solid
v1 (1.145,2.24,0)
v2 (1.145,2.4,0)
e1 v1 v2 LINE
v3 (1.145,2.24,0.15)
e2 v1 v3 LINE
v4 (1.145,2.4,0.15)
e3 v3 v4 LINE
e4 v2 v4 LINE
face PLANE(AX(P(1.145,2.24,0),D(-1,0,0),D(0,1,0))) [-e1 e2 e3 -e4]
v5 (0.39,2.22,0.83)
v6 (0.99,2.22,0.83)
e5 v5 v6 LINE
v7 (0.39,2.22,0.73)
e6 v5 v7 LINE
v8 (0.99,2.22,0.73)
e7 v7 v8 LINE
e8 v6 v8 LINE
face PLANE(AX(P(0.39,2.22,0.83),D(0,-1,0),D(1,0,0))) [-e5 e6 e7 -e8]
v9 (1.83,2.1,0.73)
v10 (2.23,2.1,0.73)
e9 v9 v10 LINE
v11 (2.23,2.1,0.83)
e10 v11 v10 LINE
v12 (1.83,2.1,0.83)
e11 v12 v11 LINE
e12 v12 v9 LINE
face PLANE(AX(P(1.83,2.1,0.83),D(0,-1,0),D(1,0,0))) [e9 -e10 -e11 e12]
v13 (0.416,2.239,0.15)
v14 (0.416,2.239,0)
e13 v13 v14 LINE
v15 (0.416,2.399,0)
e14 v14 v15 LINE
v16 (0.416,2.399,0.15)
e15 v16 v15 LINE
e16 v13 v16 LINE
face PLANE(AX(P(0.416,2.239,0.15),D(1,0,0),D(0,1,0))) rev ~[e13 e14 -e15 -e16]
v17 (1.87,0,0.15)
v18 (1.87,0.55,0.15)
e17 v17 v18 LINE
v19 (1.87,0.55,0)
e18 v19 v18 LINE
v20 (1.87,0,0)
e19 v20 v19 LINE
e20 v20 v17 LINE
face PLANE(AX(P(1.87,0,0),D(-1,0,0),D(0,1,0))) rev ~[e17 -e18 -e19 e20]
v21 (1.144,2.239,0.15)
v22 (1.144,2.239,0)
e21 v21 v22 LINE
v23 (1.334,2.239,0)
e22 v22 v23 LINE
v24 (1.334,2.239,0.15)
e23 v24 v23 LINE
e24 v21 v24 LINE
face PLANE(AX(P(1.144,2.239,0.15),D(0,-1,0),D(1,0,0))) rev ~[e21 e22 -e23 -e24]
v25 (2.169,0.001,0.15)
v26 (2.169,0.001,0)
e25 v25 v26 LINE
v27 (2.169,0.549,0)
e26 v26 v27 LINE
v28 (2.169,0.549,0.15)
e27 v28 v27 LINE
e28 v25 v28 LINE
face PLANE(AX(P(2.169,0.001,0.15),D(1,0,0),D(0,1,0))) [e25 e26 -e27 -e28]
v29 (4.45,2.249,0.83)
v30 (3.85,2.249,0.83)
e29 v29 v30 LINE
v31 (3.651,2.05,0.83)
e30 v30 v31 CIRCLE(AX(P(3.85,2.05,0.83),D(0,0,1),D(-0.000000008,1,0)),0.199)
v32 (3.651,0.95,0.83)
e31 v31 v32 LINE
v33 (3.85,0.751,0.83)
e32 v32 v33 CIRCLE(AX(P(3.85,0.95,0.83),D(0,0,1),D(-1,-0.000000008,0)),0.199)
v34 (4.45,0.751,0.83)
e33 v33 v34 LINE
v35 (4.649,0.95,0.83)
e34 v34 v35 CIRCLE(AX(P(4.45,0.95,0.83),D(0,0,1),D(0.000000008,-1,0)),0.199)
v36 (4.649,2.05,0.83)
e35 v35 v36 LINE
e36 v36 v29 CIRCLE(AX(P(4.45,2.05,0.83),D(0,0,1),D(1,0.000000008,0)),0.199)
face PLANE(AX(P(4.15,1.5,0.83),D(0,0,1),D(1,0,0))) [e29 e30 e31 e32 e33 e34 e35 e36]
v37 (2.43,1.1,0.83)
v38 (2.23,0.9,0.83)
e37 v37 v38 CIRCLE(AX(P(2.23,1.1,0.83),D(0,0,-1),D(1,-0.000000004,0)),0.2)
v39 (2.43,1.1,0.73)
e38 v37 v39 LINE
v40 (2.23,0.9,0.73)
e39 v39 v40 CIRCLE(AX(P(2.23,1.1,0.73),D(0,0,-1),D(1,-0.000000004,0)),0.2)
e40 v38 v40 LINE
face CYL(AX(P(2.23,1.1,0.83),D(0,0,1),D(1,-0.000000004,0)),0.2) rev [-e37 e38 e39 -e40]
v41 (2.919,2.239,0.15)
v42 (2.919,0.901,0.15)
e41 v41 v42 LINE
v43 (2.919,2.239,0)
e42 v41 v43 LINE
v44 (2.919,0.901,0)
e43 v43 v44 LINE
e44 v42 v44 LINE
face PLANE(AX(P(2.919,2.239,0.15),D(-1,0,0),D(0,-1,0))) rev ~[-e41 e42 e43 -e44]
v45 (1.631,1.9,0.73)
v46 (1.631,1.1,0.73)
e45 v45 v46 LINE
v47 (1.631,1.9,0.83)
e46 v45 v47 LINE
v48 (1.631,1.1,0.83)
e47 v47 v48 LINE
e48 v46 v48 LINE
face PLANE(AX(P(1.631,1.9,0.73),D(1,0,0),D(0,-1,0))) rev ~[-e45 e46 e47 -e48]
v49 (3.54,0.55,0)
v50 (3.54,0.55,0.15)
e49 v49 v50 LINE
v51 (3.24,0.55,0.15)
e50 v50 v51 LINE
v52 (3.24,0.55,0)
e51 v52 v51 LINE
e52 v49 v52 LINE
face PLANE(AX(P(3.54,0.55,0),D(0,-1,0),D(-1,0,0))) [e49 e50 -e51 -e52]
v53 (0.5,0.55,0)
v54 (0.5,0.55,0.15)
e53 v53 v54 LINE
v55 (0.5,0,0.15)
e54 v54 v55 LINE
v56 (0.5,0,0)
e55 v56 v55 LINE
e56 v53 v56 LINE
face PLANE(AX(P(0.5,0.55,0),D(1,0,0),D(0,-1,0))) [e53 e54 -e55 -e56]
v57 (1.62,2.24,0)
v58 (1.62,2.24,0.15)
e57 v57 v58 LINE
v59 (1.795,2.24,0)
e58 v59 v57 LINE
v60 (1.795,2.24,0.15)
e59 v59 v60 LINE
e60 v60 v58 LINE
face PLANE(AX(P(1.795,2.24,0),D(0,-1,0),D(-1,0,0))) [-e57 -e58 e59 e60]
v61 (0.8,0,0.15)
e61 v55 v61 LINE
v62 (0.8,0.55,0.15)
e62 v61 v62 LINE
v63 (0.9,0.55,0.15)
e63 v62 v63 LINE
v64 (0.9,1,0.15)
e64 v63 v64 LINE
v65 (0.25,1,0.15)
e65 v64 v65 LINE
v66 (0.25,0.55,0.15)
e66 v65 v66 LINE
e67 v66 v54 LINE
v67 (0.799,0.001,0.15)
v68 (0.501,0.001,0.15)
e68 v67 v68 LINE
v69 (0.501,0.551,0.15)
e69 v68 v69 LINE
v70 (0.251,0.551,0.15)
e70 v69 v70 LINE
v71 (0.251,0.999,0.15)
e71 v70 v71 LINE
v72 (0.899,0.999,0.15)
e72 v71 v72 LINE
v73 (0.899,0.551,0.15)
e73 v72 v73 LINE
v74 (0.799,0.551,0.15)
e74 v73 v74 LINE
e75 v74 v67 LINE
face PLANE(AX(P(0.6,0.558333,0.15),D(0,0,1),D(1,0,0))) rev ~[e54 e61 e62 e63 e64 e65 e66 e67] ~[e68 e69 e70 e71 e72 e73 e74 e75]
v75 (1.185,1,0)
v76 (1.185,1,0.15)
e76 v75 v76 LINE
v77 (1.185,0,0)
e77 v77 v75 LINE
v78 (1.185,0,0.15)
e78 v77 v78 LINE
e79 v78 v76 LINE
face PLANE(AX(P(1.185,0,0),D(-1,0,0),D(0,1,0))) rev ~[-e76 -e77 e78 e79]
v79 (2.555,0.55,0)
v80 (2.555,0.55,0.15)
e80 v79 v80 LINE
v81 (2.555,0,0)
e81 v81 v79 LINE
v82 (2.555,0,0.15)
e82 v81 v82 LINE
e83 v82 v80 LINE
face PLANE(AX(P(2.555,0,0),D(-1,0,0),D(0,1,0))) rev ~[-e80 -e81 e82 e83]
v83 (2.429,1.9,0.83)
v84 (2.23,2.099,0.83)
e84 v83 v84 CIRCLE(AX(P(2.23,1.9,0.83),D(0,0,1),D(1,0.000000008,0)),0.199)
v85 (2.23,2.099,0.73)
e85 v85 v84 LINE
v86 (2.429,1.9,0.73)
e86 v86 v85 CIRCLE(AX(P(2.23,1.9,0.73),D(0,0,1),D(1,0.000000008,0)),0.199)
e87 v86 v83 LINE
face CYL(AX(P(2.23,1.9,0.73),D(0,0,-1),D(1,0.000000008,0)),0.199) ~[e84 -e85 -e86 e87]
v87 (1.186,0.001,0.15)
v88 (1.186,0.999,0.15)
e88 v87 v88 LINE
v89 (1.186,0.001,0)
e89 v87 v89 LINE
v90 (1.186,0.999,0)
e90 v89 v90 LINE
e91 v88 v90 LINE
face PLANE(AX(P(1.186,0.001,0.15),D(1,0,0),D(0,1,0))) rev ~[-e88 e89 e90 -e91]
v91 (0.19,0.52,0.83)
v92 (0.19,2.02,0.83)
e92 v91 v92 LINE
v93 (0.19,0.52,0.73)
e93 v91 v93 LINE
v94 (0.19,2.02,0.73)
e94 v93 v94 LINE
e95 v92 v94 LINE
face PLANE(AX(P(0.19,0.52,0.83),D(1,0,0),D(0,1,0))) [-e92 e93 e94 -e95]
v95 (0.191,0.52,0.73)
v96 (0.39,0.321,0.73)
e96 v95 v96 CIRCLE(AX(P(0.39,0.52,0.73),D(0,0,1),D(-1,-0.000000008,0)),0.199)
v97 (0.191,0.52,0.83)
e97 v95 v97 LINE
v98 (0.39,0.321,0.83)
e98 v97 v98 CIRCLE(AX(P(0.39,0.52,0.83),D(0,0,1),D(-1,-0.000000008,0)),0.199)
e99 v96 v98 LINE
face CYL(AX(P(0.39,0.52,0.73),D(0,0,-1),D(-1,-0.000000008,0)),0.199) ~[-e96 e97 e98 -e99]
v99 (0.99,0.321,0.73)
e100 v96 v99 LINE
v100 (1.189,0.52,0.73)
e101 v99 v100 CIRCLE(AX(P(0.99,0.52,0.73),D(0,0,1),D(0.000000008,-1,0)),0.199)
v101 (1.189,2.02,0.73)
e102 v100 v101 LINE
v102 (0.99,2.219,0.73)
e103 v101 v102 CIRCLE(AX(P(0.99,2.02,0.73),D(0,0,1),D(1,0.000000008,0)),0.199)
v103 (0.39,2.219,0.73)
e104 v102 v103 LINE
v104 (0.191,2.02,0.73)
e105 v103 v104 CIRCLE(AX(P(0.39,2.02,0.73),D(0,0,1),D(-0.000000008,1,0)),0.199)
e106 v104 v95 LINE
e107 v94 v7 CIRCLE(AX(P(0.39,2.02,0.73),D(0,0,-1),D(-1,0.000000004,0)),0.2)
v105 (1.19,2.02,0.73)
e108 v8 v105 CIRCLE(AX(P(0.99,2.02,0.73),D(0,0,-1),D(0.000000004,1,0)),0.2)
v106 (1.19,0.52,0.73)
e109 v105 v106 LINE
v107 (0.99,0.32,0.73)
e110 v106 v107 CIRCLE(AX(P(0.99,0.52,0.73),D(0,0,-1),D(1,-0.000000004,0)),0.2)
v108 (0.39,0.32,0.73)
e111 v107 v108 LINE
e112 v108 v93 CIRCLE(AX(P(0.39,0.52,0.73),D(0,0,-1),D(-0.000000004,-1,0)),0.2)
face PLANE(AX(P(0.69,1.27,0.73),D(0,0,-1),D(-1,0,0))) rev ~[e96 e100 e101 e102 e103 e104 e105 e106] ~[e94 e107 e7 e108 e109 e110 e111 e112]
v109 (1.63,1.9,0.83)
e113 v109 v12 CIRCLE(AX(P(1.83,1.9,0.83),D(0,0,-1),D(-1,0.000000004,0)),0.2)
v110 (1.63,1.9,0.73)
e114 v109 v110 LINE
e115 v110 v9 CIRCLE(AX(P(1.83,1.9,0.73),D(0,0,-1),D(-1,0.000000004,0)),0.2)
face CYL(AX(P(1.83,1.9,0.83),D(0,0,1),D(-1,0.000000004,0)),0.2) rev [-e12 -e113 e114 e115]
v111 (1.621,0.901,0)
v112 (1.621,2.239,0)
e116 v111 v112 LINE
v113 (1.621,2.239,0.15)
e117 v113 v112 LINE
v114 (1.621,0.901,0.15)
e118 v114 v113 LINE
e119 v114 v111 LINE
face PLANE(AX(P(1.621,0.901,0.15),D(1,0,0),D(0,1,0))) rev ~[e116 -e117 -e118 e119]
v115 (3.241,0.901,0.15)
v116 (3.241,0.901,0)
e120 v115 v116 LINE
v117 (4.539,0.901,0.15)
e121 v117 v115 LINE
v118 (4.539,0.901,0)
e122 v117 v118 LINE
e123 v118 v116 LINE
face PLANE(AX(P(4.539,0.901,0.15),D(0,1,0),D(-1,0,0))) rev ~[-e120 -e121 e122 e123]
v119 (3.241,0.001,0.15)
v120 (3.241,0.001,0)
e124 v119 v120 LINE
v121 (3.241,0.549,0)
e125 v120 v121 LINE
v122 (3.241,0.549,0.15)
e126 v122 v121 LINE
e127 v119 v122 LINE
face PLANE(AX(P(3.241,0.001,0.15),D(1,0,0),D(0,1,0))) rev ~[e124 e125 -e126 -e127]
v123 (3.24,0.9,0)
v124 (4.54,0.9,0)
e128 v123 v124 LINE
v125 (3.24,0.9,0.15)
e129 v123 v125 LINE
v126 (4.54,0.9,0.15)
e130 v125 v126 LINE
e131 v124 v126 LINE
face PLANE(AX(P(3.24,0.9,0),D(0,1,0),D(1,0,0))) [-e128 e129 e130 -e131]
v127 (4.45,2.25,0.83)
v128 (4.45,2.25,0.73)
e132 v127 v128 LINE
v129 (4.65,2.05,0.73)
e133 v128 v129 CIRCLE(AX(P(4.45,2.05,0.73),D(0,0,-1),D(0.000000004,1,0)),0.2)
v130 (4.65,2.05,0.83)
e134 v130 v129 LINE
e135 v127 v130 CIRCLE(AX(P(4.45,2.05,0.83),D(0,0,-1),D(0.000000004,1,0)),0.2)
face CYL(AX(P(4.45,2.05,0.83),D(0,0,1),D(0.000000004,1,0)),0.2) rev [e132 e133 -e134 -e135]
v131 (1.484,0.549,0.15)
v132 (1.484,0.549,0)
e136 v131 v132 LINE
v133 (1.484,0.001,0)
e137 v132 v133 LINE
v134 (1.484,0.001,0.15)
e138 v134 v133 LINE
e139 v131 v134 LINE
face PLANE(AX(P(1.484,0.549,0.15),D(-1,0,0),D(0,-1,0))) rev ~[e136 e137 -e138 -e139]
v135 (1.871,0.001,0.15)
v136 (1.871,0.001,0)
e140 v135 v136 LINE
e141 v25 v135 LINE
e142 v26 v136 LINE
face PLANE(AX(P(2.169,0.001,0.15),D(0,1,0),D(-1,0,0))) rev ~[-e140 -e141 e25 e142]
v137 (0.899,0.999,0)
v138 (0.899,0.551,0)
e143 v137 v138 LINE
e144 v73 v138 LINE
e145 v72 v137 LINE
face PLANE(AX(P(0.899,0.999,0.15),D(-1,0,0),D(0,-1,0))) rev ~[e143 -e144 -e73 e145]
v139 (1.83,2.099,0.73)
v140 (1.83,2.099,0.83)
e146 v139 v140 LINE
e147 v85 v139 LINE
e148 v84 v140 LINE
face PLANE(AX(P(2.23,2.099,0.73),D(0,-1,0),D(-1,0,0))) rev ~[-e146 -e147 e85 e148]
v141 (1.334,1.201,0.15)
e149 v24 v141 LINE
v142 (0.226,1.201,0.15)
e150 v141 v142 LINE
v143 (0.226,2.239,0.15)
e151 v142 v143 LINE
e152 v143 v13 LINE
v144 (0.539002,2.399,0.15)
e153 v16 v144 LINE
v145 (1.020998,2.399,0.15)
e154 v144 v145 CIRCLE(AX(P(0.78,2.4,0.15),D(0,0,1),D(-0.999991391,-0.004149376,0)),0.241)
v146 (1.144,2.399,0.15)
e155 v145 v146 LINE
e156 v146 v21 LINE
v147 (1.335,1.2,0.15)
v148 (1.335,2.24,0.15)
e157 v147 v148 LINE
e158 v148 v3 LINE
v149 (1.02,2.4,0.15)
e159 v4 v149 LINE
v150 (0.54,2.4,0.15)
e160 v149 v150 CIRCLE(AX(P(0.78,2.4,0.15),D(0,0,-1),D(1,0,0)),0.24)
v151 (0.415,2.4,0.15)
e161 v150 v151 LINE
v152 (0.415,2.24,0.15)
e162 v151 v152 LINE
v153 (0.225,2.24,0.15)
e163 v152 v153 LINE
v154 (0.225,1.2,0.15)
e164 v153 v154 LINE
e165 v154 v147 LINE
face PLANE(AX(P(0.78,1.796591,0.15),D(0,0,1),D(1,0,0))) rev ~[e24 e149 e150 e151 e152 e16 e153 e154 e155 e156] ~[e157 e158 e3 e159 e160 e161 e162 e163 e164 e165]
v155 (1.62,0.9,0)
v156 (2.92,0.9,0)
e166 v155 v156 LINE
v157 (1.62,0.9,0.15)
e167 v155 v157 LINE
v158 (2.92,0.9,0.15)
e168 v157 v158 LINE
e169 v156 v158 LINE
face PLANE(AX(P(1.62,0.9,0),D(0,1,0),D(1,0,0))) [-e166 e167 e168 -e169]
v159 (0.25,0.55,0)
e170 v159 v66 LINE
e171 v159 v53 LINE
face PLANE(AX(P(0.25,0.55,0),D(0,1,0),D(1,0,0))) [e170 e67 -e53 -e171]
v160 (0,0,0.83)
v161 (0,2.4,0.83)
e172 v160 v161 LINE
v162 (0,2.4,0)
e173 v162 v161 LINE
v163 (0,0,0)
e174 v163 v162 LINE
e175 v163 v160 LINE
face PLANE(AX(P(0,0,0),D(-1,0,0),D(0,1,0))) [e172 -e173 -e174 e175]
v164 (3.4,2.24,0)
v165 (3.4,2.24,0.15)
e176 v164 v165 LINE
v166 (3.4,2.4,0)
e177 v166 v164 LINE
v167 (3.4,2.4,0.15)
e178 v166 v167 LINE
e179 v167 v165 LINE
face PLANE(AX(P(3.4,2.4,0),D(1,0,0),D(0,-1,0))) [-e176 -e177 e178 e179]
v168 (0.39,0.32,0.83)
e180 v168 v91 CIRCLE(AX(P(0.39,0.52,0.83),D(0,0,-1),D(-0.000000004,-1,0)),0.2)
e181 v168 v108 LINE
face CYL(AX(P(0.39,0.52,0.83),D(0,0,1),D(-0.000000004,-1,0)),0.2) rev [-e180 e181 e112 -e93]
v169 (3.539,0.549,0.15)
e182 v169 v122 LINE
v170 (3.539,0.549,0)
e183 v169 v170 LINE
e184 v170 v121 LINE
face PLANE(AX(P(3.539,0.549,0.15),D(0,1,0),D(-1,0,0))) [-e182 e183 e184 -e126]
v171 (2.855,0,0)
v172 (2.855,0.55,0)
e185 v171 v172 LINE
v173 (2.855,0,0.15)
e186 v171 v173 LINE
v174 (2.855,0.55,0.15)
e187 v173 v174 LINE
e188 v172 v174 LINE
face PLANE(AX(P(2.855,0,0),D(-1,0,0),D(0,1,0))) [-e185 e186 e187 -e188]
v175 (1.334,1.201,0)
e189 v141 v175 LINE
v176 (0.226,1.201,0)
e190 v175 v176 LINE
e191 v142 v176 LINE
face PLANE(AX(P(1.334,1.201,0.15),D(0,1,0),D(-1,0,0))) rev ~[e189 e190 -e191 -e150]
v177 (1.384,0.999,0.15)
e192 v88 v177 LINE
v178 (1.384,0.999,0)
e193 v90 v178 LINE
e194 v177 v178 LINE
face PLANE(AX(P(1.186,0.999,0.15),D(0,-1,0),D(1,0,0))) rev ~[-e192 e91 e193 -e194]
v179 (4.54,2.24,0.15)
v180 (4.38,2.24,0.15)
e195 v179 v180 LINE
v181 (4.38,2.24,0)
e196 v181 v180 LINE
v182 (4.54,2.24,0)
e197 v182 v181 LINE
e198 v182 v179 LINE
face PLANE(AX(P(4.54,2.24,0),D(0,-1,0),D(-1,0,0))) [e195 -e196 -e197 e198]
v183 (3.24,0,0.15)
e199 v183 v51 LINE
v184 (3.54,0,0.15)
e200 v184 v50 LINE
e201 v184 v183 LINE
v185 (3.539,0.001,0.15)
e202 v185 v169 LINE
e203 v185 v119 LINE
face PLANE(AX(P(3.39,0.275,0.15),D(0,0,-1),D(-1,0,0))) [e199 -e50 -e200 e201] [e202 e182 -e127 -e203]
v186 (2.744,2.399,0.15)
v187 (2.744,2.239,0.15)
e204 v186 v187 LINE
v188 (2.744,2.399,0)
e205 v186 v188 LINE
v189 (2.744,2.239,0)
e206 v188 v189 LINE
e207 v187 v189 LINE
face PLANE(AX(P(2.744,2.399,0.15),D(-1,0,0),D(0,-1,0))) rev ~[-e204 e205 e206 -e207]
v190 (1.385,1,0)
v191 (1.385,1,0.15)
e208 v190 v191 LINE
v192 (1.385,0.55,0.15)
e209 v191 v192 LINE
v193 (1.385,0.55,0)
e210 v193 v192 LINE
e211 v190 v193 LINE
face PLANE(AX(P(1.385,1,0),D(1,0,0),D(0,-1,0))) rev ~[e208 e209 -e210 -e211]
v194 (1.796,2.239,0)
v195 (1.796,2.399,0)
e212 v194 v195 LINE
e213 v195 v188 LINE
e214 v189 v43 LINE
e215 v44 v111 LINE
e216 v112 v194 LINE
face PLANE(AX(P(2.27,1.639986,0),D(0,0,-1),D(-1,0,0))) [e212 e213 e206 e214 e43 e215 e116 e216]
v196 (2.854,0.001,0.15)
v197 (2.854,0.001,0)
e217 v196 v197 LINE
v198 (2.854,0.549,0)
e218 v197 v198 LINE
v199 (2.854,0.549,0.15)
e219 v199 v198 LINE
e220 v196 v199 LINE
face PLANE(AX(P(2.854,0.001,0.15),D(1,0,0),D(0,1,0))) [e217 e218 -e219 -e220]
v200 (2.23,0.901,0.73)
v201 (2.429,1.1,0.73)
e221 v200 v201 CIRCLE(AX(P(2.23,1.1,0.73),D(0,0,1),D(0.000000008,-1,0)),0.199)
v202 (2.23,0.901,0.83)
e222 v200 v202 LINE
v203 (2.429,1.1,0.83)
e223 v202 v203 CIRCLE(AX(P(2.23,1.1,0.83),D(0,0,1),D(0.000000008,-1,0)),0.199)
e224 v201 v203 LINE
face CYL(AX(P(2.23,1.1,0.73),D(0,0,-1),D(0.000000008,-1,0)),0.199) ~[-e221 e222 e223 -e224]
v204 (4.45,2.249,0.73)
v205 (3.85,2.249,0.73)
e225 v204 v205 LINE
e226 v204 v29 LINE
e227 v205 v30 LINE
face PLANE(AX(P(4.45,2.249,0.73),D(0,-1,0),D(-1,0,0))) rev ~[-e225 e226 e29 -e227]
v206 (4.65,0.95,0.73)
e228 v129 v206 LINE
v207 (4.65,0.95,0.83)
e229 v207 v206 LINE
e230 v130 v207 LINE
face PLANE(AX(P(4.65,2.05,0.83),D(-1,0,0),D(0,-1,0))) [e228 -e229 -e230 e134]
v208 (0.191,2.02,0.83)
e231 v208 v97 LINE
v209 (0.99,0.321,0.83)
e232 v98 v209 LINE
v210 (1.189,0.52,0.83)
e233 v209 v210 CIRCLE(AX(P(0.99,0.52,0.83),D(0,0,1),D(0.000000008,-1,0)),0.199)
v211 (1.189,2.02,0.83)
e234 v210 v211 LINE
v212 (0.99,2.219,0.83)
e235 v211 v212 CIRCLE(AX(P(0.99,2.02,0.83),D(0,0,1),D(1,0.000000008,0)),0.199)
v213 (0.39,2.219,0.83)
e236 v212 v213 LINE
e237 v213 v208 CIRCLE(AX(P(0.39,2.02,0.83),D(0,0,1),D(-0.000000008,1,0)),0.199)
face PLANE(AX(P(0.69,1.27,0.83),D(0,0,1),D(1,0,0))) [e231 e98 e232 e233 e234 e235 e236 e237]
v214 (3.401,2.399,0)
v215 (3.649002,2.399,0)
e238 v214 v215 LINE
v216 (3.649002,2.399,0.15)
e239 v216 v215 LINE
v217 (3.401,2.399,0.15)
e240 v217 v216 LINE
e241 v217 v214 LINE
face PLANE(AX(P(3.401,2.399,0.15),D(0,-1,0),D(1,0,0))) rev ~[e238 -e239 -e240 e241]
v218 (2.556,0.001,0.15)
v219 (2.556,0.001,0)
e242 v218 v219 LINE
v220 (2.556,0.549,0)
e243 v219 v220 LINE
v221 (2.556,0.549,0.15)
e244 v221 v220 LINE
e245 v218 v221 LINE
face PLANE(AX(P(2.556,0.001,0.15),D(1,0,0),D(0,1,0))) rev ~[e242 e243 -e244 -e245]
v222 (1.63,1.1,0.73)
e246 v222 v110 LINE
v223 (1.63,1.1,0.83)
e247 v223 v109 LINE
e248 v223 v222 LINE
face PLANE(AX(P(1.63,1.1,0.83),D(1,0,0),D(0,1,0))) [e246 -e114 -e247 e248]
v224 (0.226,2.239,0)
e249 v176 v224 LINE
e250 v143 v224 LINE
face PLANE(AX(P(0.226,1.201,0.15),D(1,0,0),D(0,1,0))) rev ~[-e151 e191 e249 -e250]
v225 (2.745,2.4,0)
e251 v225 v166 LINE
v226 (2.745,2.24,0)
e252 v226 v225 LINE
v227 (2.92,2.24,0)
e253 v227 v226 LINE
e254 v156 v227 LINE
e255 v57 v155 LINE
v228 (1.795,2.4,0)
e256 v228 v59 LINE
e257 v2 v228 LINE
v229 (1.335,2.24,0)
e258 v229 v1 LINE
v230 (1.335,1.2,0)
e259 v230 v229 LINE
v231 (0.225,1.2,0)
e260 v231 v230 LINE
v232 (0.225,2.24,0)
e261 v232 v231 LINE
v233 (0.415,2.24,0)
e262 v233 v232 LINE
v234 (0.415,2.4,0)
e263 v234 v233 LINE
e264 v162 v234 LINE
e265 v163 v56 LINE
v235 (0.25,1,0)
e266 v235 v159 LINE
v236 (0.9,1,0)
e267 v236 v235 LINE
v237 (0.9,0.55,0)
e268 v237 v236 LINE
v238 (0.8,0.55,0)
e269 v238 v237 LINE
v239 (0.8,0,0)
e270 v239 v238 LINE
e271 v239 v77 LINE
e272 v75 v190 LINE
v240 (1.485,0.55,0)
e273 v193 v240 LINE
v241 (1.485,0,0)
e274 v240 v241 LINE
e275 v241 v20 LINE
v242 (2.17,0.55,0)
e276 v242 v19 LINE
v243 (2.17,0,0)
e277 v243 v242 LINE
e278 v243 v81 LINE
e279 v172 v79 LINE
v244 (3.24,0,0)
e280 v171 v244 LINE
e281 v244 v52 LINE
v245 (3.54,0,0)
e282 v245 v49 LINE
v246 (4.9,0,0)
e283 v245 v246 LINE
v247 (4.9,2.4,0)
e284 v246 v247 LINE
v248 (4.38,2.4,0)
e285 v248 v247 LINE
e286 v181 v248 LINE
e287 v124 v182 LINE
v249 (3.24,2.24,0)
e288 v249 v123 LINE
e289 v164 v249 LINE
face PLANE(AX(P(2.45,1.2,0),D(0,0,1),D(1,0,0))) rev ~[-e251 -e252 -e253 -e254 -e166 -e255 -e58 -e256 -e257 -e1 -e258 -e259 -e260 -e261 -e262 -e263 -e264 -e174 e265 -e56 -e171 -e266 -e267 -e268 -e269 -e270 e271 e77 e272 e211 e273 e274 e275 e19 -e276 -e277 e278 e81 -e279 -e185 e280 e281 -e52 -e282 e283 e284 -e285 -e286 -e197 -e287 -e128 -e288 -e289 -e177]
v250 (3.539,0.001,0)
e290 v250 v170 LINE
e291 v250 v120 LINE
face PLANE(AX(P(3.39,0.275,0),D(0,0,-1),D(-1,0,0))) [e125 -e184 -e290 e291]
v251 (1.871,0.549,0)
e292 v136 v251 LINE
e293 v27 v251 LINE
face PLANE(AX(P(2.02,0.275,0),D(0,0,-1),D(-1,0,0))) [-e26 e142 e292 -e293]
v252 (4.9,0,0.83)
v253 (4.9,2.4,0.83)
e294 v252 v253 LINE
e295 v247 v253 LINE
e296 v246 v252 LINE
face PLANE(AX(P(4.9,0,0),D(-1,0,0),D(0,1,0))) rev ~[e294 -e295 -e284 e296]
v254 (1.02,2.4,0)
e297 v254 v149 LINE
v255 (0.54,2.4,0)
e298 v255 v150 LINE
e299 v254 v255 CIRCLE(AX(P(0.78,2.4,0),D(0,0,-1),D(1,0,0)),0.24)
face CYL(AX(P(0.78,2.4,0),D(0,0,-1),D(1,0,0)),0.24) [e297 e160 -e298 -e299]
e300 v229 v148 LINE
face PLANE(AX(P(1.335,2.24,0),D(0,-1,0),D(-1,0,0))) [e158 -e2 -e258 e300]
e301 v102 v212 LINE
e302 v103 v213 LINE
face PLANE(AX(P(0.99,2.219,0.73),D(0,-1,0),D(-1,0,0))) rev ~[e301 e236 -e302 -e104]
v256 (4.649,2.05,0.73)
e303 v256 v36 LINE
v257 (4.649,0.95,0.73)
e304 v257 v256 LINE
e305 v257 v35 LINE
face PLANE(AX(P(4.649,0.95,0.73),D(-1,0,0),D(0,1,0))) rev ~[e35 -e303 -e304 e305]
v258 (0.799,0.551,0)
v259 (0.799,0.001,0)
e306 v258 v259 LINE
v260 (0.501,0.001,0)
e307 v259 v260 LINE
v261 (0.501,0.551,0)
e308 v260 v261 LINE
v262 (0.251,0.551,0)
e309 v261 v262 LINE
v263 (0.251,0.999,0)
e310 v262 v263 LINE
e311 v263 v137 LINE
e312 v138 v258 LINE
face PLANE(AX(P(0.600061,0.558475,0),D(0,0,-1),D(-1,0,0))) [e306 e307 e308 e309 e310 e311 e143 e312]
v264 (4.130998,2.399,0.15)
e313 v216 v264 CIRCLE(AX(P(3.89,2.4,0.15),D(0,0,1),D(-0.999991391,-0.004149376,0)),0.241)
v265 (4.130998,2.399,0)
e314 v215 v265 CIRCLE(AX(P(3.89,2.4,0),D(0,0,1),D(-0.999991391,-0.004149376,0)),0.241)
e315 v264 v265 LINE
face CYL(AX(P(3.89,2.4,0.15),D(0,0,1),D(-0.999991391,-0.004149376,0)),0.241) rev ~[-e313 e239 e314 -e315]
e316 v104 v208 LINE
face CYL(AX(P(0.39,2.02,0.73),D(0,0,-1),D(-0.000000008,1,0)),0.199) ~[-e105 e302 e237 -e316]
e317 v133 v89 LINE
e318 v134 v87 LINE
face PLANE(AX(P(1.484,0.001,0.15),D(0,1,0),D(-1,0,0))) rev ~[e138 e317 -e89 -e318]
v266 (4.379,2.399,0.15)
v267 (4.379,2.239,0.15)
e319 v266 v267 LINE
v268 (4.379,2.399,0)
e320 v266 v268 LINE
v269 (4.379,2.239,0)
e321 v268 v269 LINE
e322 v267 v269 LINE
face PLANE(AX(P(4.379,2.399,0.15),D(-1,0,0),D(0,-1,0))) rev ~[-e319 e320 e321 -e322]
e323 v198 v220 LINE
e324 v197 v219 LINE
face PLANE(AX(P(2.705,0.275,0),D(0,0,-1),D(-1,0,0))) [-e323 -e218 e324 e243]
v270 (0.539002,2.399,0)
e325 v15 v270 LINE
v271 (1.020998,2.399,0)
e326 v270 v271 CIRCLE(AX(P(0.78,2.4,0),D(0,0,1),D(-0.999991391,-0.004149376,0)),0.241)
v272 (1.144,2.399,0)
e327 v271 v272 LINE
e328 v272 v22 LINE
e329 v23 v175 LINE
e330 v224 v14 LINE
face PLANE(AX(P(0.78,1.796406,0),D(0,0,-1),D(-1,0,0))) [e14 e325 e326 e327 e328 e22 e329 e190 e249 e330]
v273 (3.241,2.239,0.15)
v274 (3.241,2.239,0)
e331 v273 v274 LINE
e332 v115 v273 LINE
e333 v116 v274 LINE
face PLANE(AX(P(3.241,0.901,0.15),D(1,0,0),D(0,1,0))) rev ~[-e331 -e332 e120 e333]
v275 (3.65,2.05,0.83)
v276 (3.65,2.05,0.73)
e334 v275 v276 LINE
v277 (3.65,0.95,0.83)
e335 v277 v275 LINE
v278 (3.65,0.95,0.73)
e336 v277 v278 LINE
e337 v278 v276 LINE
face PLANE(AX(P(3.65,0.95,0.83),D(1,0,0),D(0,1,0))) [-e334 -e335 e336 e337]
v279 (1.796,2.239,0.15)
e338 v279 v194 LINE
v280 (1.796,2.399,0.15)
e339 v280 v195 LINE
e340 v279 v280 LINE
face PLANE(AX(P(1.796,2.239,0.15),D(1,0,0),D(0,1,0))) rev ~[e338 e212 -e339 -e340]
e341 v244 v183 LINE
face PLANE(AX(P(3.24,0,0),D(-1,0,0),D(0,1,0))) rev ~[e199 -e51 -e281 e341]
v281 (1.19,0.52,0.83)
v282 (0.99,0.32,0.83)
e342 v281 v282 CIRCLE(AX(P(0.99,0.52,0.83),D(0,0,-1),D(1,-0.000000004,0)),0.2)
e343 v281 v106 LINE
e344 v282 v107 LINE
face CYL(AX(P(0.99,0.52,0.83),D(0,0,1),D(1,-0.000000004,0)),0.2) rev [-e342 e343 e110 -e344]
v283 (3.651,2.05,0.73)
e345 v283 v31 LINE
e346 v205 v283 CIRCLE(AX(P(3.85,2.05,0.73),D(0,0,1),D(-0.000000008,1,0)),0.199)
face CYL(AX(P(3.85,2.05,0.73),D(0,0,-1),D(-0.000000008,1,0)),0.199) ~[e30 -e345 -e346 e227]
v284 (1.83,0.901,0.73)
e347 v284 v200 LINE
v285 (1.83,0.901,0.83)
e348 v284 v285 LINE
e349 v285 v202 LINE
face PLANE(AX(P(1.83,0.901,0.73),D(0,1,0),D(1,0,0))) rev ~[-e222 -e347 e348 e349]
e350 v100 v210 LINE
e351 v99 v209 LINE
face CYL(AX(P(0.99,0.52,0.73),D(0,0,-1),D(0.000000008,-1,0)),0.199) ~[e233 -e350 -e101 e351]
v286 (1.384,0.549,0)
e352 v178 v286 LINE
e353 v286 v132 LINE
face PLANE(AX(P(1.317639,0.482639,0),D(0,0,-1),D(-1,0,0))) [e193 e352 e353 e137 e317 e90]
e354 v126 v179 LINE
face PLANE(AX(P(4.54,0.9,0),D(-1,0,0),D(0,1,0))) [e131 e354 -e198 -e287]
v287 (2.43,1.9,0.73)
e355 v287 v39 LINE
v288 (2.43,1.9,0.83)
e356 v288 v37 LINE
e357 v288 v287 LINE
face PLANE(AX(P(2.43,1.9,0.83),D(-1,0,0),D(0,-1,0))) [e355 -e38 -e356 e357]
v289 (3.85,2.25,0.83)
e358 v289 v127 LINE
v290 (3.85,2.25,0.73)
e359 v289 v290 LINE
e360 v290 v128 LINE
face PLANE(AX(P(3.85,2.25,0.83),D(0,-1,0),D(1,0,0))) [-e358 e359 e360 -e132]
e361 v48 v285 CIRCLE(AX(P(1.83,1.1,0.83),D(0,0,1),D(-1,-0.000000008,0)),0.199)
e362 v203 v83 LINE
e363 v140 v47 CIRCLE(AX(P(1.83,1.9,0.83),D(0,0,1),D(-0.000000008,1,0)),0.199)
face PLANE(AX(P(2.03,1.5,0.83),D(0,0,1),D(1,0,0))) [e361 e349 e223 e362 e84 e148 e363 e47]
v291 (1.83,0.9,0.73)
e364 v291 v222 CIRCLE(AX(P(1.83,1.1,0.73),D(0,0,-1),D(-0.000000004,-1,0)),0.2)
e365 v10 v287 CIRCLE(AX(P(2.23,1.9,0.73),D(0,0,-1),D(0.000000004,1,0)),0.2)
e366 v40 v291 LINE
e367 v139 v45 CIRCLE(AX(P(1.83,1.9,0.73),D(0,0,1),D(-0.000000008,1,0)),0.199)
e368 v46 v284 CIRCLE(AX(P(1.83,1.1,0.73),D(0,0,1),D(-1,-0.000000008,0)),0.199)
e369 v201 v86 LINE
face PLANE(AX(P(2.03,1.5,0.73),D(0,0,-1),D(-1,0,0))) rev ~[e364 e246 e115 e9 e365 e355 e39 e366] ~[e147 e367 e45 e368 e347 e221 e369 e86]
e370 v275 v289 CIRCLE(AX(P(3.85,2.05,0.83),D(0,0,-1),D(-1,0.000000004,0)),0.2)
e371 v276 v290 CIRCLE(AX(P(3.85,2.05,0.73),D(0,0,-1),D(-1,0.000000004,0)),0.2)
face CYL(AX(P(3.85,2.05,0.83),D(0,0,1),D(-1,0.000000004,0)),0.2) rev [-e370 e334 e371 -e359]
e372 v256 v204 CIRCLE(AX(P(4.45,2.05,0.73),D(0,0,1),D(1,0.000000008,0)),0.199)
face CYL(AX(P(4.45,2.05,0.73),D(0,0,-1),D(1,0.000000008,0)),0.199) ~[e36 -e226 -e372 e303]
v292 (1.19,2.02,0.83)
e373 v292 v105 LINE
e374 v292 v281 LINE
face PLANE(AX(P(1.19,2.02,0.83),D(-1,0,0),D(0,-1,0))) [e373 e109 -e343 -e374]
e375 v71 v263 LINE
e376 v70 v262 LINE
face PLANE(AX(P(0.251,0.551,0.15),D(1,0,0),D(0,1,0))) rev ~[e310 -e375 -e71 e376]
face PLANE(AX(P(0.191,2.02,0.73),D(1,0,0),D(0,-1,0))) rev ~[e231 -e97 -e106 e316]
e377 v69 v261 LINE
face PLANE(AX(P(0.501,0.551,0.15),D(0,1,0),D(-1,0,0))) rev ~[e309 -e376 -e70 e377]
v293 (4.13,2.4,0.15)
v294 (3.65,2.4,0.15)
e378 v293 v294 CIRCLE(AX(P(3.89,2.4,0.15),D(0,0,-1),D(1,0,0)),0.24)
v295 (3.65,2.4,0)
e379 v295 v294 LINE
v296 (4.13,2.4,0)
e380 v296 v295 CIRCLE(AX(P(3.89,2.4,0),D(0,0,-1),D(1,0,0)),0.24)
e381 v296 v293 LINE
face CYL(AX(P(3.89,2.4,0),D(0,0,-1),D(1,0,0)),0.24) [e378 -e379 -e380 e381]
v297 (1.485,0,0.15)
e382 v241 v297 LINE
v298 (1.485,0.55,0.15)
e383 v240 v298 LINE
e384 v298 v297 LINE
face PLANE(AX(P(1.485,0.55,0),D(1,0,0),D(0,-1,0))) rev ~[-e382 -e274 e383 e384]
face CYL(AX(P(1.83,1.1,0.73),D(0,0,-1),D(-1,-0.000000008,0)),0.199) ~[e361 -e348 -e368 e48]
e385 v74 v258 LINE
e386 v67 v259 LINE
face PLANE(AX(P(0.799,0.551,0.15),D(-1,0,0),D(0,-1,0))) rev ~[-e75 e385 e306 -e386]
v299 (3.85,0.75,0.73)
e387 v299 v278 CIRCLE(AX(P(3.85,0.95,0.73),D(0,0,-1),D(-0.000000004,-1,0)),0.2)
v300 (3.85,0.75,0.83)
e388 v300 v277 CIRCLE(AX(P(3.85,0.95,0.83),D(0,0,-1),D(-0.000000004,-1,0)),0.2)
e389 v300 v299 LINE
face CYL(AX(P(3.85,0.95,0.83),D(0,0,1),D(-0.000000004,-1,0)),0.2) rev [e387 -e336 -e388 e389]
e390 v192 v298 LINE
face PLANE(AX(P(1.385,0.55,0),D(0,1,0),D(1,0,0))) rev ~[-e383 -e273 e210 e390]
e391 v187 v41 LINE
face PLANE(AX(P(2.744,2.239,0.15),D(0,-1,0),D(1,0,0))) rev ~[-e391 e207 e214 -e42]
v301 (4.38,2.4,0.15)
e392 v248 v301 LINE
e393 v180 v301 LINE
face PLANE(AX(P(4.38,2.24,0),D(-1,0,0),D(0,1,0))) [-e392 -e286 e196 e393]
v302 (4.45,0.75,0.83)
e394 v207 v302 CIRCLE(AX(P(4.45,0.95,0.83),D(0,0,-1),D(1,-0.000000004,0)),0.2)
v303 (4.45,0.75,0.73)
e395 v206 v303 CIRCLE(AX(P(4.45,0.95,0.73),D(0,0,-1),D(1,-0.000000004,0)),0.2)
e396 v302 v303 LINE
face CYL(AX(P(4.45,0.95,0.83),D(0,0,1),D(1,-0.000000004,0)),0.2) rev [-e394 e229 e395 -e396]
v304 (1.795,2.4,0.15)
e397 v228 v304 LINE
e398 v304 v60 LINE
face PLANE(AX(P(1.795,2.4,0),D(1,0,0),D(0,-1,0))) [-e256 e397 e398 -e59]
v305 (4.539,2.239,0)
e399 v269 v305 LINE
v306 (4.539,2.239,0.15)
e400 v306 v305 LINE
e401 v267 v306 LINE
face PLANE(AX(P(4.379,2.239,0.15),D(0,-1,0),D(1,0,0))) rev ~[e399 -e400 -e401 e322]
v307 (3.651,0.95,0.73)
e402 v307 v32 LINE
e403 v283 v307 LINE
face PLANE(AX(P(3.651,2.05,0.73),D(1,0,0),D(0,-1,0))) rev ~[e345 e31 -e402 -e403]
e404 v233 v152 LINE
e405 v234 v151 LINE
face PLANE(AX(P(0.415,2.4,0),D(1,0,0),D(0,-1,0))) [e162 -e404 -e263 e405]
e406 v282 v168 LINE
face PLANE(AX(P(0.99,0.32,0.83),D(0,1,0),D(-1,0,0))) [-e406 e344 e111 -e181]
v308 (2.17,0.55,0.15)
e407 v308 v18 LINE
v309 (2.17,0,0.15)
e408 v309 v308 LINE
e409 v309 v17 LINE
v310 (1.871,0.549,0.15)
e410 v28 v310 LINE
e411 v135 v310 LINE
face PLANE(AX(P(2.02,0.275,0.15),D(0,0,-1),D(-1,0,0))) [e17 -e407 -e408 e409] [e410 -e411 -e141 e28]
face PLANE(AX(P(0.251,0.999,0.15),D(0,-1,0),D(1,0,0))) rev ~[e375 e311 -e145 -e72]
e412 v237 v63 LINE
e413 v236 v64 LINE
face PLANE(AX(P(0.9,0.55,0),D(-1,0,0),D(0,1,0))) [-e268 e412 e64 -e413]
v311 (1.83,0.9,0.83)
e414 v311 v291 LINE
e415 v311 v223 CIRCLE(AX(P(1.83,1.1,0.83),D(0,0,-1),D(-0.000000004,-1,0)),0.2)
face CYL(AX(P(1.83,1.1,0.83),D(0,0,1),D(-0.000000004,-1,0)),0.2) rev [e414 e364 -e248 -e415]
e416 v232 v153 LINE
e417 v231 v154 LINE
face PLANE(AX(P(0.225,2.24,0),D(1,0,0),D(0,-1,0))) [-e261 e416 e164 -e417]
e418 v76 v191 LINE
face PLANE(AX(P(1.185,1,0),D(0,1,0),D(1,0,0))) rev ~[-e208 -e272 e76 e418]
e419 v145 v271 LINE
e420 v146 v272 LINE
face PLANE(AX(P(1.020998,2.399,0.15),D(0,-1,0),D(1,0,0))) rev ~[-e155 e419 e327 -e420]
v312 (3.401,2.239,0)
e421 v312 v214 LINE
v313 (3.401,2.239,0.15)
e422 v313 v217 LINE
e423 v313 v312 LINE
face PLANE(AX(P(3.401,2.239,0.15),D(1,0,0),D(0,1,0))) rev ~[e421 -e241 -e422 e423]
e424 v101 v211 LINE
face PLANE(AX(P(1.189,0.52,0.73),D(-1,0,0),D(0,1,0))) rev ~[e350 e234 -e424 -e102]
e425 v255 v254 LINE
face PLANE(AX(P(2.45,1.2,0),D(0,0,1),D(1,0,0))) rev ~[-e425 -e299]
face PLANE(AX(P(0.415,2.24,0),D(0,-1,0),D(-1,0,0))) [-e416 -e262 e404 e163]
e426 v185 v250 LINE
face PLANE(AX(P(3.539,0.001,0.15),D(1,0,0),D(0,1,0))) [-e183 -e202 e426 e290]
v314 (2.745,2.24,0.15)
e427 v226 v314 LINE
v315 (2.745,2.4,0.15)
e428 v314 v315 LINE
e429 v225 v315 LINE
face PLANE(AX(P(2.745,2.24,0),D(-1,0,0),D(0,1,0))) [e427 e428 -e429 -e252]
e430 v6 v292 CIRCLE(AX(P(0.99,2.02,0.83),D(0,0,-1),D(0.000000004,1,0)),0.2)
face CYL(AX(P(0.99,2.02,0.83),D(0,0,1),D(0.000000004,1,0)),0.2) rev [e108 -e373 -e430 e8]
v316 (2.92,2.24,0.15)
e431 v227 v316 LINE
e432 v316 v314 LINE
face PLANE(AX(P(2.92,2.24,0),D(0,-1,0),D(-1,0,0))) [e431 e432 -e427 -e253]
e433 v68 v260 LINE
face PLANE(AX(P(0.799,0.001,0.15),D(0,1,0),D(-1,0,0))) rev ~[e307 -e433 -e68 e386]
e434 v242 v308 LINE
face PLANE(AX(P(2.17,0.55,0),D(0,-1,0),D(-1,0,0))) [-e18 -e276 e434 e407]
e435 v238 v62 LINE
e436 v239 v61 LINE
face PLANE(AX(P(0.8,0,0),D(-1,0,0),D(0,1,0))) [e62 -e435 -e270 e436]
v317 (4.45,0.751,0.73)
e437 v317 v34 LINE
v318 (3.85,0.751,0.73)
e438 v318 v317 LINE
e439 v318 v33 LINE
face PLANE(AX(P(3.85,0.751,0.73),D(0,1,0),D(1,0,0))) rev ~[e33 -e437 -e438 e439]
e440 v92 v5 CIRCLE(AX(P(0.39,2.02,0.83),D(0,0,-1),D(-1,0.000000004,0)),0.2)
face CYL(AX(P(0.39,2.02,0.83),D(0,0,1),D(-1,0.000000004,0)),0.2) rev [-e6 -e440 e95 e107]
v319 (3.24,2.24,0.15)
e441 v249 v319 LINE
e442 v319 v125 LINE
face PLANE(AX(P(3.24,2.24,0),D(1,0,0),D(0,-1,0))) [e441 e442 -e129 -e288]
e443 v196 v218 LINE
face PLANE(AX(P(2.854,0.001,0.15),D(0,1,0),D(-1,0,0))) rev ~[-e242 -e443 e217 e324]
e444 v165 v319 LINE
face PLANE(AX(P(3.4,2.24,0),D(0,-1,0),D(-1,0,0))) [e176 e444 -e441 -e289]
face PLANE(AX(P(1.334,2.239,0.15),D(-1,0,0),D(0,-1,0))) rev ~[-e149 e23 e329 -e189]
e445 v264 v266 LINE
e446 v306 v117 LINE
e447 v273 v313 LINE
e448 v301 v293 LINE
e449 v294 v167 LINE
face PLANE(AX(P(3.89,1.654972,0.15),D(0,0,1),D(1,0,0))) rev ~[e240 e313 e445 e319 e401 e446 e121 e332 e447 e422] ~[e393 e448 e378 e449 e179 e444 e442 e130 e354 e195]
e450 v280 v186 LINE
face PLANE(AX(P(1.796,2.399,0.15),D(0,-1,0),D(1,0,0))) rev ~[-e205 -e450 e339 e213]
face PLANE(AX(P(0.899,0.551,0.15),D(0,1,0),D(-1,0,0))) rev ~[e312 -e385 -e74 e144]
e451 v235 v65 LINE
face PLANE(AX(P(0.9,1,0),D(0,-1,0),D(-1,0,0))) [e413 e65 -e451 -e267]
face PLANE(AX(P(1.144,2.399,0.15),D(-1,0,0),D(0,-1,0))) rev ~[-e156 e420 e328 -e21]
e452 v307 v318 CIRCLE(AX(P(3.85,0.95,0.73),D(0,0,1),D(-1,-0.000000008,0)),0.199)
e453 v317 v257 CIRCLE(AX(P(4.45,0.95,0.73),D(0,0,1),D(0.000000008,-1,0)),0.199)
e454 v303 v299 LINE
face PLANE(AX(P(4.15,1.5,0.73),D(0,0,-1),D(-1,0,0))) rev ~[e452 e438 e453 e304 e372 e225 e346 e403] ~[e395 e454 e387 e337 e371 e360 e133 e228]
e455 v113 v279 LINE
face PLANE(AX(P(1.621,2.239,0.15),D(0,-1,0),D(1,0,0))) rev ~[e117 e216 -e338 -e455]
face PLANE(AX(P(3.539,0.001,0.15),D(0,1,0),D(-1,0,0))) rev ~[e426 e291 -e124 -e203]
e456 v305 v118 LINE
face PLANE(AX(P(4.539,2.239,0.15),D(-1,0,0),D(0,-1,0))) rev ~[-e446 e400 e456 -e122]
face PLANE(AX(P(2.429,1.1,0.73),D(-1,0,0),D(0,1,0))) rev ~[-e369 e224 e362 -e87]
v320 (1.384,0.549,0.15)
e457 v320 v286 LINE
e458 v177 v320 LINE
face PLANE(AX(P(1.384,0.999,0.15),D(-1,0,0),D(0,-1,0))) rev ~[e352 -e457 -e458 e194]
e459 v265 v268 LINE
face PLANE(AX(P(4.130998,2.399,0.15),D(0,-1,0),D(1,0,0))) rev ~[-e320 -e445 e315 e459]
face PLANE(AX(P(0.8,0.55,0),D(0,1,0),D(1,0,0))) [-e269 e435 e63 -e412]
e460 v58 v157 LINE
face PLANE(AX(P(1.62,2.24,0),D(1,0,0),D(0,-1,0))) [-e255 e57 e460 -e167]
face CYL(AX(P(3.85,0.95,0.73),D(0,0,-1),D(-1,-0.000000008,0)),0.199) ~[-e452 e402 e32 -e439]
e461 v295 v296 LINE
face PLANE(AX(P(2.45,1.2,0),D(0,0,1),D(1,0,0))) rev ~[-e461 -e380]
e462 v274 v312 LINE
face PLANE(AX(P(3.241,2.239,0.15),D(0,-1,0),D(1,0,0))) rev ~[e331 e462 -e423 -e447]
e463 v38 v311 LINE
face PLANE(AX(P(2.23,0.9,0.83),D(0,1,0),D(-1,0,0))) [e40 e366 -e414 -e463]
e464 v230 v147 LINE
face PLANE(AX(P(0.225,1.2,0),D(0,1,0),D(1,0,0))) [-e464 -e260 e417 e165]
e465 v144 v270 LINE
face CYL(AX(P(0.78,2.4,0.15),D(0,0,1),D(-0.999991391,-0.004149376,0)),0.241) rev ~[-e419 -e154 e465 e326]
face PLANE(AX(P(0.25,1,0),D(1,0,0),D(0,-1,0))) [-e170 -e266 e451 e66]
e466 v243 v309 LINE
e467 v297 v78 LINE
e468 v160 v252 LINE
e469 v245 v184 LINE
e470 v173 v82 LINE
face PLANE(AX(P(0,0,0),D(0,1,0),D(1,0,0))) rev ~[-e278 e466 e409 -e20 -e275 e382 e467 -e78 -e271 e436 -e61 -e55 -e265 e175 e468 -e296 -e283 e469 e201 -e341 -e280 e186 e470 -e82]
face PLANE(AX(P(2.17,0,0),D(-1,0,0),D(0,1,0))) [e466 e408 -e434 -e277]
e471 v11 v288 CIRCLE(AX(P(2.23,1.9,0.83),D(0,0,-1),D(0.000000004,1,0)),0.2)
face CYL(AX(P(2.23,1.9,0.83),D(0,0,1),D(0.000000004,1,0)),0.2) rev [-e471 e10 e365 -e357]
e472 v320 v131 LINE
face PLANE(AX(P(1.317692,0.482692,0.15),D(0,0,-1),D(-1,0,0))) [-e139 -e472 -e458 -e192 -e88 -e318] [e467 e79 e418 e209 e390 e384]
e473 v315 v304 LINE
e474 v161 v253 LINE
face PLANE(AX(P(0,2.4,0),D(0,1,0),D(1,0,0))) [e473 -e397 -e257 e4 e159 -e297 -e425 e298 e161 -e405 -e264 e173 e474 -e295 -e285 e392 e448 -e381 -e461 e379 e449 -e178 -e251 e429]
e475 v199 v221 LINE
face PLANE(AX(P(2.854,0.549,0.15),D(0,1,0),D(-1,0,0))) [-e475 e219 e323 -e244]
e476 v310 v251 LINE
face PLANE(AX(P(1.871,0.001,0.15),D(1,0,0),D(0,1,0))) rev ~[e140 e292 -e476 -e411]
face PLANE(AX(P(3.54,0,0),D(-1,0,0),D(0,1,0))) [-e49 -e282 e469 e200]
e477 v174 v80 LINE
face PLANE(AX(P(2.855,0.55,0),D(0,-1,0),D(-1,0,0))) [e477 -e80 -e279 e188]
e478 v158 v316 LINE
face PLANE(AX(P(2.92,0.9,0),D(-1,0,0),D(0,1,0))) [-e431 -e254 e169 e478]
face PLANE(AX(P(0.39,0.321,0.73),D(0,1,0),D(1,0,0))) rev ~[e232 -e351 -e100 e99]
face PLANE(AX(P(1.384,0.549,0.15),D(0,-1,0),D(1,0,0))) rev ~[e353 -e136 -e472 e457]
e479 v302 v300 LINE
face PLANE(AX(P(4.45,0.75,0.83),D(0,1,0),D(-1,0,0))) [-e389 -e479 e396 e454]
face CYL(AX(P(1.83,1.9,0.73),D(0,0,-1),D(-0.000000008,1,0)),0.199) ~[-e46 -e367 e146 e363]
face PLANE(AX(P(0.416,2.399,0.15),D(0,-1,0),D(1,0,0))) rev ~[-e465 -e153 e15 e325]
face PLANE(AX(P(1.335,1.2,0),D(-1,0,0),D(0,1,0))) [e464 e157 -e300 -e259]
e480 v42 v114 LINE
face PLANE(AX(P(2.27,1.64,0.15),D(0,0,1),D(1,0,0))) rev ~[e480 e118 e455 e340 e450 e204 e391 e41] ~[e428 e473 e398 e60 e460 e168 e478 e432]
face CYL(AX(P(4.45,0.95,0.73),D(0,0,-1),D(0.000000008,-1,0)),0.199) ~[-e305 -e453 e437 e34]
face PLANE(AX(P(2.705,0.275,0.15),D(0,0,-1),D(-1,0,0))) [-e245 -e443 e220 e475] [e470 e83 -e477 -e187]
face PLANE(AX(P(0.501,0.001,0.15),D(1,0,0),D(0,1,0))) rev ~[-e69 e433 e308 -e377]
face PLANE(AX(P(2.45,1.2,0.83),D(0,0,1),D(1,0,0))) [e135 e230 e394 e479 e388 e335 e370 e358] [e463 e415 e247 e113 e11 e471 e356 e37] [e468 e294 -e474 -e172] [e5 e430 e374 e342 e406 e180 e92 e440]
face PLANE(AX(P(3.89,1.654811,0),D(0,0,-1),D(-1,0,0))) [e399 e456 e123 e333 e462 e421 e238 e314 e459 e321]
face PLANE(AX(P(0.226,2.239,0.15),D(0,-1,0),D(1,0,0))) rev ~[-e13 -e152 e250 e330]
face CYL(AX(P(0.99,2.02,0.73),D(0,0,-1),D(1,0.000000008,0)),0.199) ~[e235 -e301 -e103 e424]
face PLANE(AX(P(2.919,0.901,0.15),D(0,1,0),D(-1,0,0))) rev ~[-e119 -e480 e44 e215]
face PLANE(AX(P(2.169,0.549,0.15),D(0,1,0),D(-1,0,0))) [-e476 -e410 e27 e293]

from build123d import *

# Parameters (mm, degrees)
SKETCH_1_W          = 4.9
SKETCH_1_H          = 2.4
EXTRUDE_320_DEPTH   = 0.83
CUT_EXTRUDE_1_DEPTH = 0.1
SKETCH_3_W          = 0.3
SKETCH_3_H          = 0.55
CUT_EXTRUDE_2_DEPTH = 0.15
EXTRUDE_1_DEPTH     = 0.15
SKETCH_5_W          = 0.298
SKETCH_5_H          = 0.548
EXTRUDE_2_DEPTH     = 0.15
EXTRUDE_3_DEPTH     = 0.1


with BuildPart() as part:
    # Эскиз1 → Extrude 320 (new body)
    with BuildSketch(Plane.XY):
        with Locations((2.45, 1.2)):
            Rectangle(SKETCH_1_W, SKETCH_1_H)
    extrude(amount=EXTRUDE_320_DEPTH)

    # Эскиз2 → Вырез-Вытянуть1 (cut)
    with BuildSketch(Plane.XY.offset(0.83)):
        with BuildLine():
            Line((3.85, 2.25), (4.45, 2.25))
            ThreePointArc((4.45, 2.25), (4.591421356, 2.191421356), (4.65, 2.05))
            Line((4.65, 2.05), (4.65, 0.95))
            ThreePointArc((4.65, 0.95), (4.591421356, 0.808578644), (4.45, 0.75))
            Line((4.45, 0.75), (3.85, 0.75))
            ThreePointArc((3.85, 0.75), (3.708578644, 0.808578644), (3.65, 0.95))
            Line((3.65, 0.95), (3.65, 2.05))
            ThreePointArc((3.65, 2.05), (3.708578644, 2.191421356), (3.85, 2.25))
        make_face()
        with BuildLine():
            Line((1.83, 2.1), (2.23, 2.1))
            ThreePointArc((2.23, 2.1), (2.371421356, 2.041421356), (2.43, 1.9))
            Line((2.43, 1.9), (2.43, 1.1))
            ThreePointArc((2.43, 1.1), (2.371421356, 0.958578644), (2.23, 0.9))
            Line((2.23, 0.9), (1.83, 0.9))
            ThreePointArc((1.83, 0.9), (1.688578644, 0.958578644), (1.63, 1.1))
            Line((1.63, 1.1), (1.63, 1.9))
            ThreePointArc((1.63, 1.9), (1.688578644, 2.041421356), (1.83, 2.1))
        make_face()
        with BuildLine():
            Line((0.39, 2.22), (0.99, 2.22))
            ThreePointArc((0.99, 2.22), (1.131421356, 2.161421356), (1.19, 2.02))
            Line((1.19, 2.02), (1.19, 0.52))
            ThreePointArc((1.19, 0.52), (1.131421356, 0.378578644), (0.99, 0.32))
            Line((0.99, 0.32), (0.39, 0.32))
            ThreePointArc((0.39, 0.32), (0.248578644, 0.378578644), (0.19, 0.52))
            Line((0.19, 0.52), (0.19, 2.02))
            ThreePointArc((0.19, 2.02), (0.248578644, 2.161421356), (0.39, 2.22))
        make_face()
    extrude(amount=-CUT_EXTRUDE_1_DEPTH, mode=Mode.SUBTRACT)

    # Эскиз3 → Вырез-Вытянуть2 (cut)
    with BuildSketch(Plane(origin=(0, 0, 0), x_dir=(-1, 0, 0), z_dir=(0, 0, -1))):
        with BuildLine():
            Line((-0.225, 1.2), (-1.335, 1.2))
            Line((-1.335, 1.2), (-1.335, 2.24))
            Line((-1.335, 2.24), (-1.145, 2.24))
            Line((-1.145, 2.24), (-1.145, 2.4))
            Line((-1.145, 2.4), (-1.02, 2.4))
            ThreePointArc((-1.02, 2.4), (-0.78, 2.16), (-0.54, 2.4))
            Line((-0.54, 2.4), (-0.415, 2.4))
            Line((-0.415, 2.4), (-0.415, 2.24))
            Line((-0.415, 2.24), (-0.225, 2.24))
            Line((-0.225, 2.24), (-0.225, 1.2))
        make_face()
        Polygon((-1.62, 0.9), (-2.92, 0.9), (-2.92, 2.24), (-2.745, 2.24), (-2.745, 2.4), (-1.795, 2.4), (-1.795, 2.24), (-1.62, 2.24), align=None)
        with BuildLine():
            Line((-3.24, 0.9), (-4.54, 0.9))
            Line((-4.54, 0.9), (-4.54, 2.24))
            Line((-4.54, 2.24), (-4.38, 2.24))
            Line((-4.38, 2.24), (-4.38, 2.4))
            Line((-4.38, 2.4), (-4.13, 2.4))
            ThreePointArc((-4.13, 2.4), (-3.89, 2.16), (-3.65, 2.4))
            Line((-3.65, 2.4), (-3.4, 2.4))
            Line((-3.4, 2.4), (-3.4, 2.24))
            Line((-3.4, 2.24), (-3.24, 2.24))
            Line((-3.24, 2.24), (-3.24, 0.9))
        make_face()
        Polygon((-0.5, 0), (-0.8, 0), (-0.8, 0.55), (-0.9, 0.55), (-0.9, 1), (-0.25, 1), (-0.25, 0.55), (-0.5, 0.55), align=None)
        Polygon((-1.485, 0), (-1.185, 0), (-1.185, 1), (-1.385, 1), (-1.385, 0.55), (-1.485, 0.55), align=None)
        with Locations((-2.02, 0.275)):
            Rectangle(SKETCH_3_W, SKETCH_3_H)
        with Locations((-2.705, 0.275)):
            Rectangle(SKETCH_3_W, SKETCH_3_H)
        with Locations((-3.39, 0.275)):
            Rectangle(SKETCH_3_W, SKETCH_3_H)
    extrude(amount=-CUT_EXTRUDE_2_DEPTH, mode=Mode.SUBTRACT)

    # Эскиз4 → Бобышка-Вытянуть1 (add)
    with BuildSketch(Plane(origin=(0, 0, 0.15), x_dir=(-1, 0, 0), z_dir=(0, 0, -1))):
        Polygon((-0.501, 0.001), (-0.501, 0.551), (-0.251, 0.551), (-0.251, 0.999), (-0.899, 0.999), (-0.899, 0.551), (-0.799, 0.551), (-0.799, 0.001), align=None)
    extrude(amount=EXTRUDE_1_DEPTH)

    # Эскиз5 → Бобышка-Вытянуть2 (add)
    with BuildSketch(Plane(origin=(0, 0, 0.15), x_dir=(-1, 0, 0), z_dir=(0, 0, -1))):
        Polygon((-1.484, 0.549), (-1.484, 0.001), (-1.186, 0.001), (-1.186, 0.999), (-1.384, 0.999), (-1.384, 0.549), align=None)
        with Locations((-2.02, 0.275)):
            Rectangle(SKETCH_5_W, SKETCH_5_H)
        with Locations((-2.705, 0.275)):
            Rectangle(SKETCH_5_W, SKETCH_5_H)
        with Locations((-3.39, 0.275)):
            Rectangle(SKETCH_5_W, SKETCH_5_H)
        with BuildLine():
            Line((-3.241, 0.901), (-3.241, 2.239))
            Line((-3.241, 2.239), (-3.401, 2.239))
            Line((-3.401, 2.239), (-3.401, 2.399))
            Line((-3.401, 2.399), (-3.649002075, 2.399))
            ThreePointArc((-3.649002075, 2.399), (-3.89, 2.159), (-4.130997925, 2.399))
            Line((-4.130997925, 2.399), (-4.379, 2.399))
            Line((-4.379, 2.399), (-4.379, 2.239))
            Line((-4.379, 2.239), (-4.539, 2.239))
            Line((-4.539, 2.239), (-4.539, 0.901))
            Line((-4.539, 0.901), (-3.241, 0.901))
        make_face()
        Polygon((-1.621, 0.901), (-1.621, 2.239), (-1.796, 2.239), (-1.796, 2.399), (-2.744, 2.399), (-2.744, 2.239), (-2.919, 2.239), (-2.919, 0.901), align=None)
        with BuildLine():
            Line((-0.226, 1.201), (-0.226, 2.239))
            Line((-0.226, 2.239), (-0.416, 2.239))
            Line((-0.416, 2.239), (-0.416, 2.399))
            Line((-0.416, 2.399), (-0.539002075, 2.399))
            ThreePointArc((-0.539002075, 2.399), (-0.78, 2.159), (-1.020997925, 2.399))
            Line((-1.020997925, 2.399), (-1.144, 2.399))
            Line((-1.144, 2.399), (-1.144, 2.239))
            Line((-1.144, 2.239), (-1.334, 2.239))
            Line((-1.334, 2.239), (-1.334, 1.201))
            Line((-1.334, 1.201), (-0.226, 1.201))
        make_face()
    extrude(amount=EXTRUDE_2_DEPTH)

    # Эскиз6 → Бобышка-Вытянуть3 (add)
    with BuildSketch(Plane.XY.offset(0.73)):
        with BuildLine():
            Line((3.85, 0.751), (4.45, 0.751))
            ThreePointArc((4.45, 0.751), (4.590714249, 0.809285751), (4.649, 0.95))
            Line((4.649, 0.95), (4.649, 2.05))
            ThreePointArc((4.649, 2.05), (4.590714249, 2.190714249), (4.45, 2.249))
            Line((4.45, 2.249), (3.85, 2.249))
            ThreePointArc((3.85, 2.249), (3.709285751, 2.190714249), (3.651, 2.05))
            Line((3.651, 2.05), (3.651, 0.95))
            ThreePointArc((3.651, 0.95), (3.709285751, 0.809285751), (3.85, 0.751))
        make_face()
        with BuildLine():
            Line((1.631, 1.9), (1.631, 1.1))
            ThreePointArc((1.631, 1.1), (1.689285751, 0.959285751), (1.83, 0.901))
            Line((1.83, 0.901), (2.23, 0.901))
            ThreePointArc((2.23, 0.901), (2.370714249, 0.959285751), (2.429, 1.1))
            Line((2.429, 1.1), (2.429, 1.9))
            ThreePointArc((2.429, 1.9), (2.370714249, 2.040714249), (2.23, 2.099))
            Line((2.23, 2.099), (1.83, 2.099))
            ThreePointArc((1.83, 2.099), (1.689285751, 2.040714249), (1.631, 1.9))
        make_face()
        with BuildLine():
            Line((0.39, 0.321), (0.99, 0.321))
            ThreePointArc((0.99, 0.321), (1.130714249, 0.379285751), (1.189, 0.52))
            Line((1.189, 0.52), (1.189, 2.02))
            ThreePointArc((1.189, 2.02), (1.130714249, 2.160714249), (0.99, 2.219))
            Line((0.99, 2.219), (0.39, 2.219))
            ThreePointArc((0.39, 2.219), (0.249285751, 2.160714249), (0.191, 2.02))
            Line((0.191, 2.02), (0.191, 0.52))
            ThreePointArc((0.191, 0.52), (0.249285751, 0.379285751), (0.39, 0.321))
        make_face()
    extrude(amount=EXTRUDE_3_DEPTH)


solid = part.part
